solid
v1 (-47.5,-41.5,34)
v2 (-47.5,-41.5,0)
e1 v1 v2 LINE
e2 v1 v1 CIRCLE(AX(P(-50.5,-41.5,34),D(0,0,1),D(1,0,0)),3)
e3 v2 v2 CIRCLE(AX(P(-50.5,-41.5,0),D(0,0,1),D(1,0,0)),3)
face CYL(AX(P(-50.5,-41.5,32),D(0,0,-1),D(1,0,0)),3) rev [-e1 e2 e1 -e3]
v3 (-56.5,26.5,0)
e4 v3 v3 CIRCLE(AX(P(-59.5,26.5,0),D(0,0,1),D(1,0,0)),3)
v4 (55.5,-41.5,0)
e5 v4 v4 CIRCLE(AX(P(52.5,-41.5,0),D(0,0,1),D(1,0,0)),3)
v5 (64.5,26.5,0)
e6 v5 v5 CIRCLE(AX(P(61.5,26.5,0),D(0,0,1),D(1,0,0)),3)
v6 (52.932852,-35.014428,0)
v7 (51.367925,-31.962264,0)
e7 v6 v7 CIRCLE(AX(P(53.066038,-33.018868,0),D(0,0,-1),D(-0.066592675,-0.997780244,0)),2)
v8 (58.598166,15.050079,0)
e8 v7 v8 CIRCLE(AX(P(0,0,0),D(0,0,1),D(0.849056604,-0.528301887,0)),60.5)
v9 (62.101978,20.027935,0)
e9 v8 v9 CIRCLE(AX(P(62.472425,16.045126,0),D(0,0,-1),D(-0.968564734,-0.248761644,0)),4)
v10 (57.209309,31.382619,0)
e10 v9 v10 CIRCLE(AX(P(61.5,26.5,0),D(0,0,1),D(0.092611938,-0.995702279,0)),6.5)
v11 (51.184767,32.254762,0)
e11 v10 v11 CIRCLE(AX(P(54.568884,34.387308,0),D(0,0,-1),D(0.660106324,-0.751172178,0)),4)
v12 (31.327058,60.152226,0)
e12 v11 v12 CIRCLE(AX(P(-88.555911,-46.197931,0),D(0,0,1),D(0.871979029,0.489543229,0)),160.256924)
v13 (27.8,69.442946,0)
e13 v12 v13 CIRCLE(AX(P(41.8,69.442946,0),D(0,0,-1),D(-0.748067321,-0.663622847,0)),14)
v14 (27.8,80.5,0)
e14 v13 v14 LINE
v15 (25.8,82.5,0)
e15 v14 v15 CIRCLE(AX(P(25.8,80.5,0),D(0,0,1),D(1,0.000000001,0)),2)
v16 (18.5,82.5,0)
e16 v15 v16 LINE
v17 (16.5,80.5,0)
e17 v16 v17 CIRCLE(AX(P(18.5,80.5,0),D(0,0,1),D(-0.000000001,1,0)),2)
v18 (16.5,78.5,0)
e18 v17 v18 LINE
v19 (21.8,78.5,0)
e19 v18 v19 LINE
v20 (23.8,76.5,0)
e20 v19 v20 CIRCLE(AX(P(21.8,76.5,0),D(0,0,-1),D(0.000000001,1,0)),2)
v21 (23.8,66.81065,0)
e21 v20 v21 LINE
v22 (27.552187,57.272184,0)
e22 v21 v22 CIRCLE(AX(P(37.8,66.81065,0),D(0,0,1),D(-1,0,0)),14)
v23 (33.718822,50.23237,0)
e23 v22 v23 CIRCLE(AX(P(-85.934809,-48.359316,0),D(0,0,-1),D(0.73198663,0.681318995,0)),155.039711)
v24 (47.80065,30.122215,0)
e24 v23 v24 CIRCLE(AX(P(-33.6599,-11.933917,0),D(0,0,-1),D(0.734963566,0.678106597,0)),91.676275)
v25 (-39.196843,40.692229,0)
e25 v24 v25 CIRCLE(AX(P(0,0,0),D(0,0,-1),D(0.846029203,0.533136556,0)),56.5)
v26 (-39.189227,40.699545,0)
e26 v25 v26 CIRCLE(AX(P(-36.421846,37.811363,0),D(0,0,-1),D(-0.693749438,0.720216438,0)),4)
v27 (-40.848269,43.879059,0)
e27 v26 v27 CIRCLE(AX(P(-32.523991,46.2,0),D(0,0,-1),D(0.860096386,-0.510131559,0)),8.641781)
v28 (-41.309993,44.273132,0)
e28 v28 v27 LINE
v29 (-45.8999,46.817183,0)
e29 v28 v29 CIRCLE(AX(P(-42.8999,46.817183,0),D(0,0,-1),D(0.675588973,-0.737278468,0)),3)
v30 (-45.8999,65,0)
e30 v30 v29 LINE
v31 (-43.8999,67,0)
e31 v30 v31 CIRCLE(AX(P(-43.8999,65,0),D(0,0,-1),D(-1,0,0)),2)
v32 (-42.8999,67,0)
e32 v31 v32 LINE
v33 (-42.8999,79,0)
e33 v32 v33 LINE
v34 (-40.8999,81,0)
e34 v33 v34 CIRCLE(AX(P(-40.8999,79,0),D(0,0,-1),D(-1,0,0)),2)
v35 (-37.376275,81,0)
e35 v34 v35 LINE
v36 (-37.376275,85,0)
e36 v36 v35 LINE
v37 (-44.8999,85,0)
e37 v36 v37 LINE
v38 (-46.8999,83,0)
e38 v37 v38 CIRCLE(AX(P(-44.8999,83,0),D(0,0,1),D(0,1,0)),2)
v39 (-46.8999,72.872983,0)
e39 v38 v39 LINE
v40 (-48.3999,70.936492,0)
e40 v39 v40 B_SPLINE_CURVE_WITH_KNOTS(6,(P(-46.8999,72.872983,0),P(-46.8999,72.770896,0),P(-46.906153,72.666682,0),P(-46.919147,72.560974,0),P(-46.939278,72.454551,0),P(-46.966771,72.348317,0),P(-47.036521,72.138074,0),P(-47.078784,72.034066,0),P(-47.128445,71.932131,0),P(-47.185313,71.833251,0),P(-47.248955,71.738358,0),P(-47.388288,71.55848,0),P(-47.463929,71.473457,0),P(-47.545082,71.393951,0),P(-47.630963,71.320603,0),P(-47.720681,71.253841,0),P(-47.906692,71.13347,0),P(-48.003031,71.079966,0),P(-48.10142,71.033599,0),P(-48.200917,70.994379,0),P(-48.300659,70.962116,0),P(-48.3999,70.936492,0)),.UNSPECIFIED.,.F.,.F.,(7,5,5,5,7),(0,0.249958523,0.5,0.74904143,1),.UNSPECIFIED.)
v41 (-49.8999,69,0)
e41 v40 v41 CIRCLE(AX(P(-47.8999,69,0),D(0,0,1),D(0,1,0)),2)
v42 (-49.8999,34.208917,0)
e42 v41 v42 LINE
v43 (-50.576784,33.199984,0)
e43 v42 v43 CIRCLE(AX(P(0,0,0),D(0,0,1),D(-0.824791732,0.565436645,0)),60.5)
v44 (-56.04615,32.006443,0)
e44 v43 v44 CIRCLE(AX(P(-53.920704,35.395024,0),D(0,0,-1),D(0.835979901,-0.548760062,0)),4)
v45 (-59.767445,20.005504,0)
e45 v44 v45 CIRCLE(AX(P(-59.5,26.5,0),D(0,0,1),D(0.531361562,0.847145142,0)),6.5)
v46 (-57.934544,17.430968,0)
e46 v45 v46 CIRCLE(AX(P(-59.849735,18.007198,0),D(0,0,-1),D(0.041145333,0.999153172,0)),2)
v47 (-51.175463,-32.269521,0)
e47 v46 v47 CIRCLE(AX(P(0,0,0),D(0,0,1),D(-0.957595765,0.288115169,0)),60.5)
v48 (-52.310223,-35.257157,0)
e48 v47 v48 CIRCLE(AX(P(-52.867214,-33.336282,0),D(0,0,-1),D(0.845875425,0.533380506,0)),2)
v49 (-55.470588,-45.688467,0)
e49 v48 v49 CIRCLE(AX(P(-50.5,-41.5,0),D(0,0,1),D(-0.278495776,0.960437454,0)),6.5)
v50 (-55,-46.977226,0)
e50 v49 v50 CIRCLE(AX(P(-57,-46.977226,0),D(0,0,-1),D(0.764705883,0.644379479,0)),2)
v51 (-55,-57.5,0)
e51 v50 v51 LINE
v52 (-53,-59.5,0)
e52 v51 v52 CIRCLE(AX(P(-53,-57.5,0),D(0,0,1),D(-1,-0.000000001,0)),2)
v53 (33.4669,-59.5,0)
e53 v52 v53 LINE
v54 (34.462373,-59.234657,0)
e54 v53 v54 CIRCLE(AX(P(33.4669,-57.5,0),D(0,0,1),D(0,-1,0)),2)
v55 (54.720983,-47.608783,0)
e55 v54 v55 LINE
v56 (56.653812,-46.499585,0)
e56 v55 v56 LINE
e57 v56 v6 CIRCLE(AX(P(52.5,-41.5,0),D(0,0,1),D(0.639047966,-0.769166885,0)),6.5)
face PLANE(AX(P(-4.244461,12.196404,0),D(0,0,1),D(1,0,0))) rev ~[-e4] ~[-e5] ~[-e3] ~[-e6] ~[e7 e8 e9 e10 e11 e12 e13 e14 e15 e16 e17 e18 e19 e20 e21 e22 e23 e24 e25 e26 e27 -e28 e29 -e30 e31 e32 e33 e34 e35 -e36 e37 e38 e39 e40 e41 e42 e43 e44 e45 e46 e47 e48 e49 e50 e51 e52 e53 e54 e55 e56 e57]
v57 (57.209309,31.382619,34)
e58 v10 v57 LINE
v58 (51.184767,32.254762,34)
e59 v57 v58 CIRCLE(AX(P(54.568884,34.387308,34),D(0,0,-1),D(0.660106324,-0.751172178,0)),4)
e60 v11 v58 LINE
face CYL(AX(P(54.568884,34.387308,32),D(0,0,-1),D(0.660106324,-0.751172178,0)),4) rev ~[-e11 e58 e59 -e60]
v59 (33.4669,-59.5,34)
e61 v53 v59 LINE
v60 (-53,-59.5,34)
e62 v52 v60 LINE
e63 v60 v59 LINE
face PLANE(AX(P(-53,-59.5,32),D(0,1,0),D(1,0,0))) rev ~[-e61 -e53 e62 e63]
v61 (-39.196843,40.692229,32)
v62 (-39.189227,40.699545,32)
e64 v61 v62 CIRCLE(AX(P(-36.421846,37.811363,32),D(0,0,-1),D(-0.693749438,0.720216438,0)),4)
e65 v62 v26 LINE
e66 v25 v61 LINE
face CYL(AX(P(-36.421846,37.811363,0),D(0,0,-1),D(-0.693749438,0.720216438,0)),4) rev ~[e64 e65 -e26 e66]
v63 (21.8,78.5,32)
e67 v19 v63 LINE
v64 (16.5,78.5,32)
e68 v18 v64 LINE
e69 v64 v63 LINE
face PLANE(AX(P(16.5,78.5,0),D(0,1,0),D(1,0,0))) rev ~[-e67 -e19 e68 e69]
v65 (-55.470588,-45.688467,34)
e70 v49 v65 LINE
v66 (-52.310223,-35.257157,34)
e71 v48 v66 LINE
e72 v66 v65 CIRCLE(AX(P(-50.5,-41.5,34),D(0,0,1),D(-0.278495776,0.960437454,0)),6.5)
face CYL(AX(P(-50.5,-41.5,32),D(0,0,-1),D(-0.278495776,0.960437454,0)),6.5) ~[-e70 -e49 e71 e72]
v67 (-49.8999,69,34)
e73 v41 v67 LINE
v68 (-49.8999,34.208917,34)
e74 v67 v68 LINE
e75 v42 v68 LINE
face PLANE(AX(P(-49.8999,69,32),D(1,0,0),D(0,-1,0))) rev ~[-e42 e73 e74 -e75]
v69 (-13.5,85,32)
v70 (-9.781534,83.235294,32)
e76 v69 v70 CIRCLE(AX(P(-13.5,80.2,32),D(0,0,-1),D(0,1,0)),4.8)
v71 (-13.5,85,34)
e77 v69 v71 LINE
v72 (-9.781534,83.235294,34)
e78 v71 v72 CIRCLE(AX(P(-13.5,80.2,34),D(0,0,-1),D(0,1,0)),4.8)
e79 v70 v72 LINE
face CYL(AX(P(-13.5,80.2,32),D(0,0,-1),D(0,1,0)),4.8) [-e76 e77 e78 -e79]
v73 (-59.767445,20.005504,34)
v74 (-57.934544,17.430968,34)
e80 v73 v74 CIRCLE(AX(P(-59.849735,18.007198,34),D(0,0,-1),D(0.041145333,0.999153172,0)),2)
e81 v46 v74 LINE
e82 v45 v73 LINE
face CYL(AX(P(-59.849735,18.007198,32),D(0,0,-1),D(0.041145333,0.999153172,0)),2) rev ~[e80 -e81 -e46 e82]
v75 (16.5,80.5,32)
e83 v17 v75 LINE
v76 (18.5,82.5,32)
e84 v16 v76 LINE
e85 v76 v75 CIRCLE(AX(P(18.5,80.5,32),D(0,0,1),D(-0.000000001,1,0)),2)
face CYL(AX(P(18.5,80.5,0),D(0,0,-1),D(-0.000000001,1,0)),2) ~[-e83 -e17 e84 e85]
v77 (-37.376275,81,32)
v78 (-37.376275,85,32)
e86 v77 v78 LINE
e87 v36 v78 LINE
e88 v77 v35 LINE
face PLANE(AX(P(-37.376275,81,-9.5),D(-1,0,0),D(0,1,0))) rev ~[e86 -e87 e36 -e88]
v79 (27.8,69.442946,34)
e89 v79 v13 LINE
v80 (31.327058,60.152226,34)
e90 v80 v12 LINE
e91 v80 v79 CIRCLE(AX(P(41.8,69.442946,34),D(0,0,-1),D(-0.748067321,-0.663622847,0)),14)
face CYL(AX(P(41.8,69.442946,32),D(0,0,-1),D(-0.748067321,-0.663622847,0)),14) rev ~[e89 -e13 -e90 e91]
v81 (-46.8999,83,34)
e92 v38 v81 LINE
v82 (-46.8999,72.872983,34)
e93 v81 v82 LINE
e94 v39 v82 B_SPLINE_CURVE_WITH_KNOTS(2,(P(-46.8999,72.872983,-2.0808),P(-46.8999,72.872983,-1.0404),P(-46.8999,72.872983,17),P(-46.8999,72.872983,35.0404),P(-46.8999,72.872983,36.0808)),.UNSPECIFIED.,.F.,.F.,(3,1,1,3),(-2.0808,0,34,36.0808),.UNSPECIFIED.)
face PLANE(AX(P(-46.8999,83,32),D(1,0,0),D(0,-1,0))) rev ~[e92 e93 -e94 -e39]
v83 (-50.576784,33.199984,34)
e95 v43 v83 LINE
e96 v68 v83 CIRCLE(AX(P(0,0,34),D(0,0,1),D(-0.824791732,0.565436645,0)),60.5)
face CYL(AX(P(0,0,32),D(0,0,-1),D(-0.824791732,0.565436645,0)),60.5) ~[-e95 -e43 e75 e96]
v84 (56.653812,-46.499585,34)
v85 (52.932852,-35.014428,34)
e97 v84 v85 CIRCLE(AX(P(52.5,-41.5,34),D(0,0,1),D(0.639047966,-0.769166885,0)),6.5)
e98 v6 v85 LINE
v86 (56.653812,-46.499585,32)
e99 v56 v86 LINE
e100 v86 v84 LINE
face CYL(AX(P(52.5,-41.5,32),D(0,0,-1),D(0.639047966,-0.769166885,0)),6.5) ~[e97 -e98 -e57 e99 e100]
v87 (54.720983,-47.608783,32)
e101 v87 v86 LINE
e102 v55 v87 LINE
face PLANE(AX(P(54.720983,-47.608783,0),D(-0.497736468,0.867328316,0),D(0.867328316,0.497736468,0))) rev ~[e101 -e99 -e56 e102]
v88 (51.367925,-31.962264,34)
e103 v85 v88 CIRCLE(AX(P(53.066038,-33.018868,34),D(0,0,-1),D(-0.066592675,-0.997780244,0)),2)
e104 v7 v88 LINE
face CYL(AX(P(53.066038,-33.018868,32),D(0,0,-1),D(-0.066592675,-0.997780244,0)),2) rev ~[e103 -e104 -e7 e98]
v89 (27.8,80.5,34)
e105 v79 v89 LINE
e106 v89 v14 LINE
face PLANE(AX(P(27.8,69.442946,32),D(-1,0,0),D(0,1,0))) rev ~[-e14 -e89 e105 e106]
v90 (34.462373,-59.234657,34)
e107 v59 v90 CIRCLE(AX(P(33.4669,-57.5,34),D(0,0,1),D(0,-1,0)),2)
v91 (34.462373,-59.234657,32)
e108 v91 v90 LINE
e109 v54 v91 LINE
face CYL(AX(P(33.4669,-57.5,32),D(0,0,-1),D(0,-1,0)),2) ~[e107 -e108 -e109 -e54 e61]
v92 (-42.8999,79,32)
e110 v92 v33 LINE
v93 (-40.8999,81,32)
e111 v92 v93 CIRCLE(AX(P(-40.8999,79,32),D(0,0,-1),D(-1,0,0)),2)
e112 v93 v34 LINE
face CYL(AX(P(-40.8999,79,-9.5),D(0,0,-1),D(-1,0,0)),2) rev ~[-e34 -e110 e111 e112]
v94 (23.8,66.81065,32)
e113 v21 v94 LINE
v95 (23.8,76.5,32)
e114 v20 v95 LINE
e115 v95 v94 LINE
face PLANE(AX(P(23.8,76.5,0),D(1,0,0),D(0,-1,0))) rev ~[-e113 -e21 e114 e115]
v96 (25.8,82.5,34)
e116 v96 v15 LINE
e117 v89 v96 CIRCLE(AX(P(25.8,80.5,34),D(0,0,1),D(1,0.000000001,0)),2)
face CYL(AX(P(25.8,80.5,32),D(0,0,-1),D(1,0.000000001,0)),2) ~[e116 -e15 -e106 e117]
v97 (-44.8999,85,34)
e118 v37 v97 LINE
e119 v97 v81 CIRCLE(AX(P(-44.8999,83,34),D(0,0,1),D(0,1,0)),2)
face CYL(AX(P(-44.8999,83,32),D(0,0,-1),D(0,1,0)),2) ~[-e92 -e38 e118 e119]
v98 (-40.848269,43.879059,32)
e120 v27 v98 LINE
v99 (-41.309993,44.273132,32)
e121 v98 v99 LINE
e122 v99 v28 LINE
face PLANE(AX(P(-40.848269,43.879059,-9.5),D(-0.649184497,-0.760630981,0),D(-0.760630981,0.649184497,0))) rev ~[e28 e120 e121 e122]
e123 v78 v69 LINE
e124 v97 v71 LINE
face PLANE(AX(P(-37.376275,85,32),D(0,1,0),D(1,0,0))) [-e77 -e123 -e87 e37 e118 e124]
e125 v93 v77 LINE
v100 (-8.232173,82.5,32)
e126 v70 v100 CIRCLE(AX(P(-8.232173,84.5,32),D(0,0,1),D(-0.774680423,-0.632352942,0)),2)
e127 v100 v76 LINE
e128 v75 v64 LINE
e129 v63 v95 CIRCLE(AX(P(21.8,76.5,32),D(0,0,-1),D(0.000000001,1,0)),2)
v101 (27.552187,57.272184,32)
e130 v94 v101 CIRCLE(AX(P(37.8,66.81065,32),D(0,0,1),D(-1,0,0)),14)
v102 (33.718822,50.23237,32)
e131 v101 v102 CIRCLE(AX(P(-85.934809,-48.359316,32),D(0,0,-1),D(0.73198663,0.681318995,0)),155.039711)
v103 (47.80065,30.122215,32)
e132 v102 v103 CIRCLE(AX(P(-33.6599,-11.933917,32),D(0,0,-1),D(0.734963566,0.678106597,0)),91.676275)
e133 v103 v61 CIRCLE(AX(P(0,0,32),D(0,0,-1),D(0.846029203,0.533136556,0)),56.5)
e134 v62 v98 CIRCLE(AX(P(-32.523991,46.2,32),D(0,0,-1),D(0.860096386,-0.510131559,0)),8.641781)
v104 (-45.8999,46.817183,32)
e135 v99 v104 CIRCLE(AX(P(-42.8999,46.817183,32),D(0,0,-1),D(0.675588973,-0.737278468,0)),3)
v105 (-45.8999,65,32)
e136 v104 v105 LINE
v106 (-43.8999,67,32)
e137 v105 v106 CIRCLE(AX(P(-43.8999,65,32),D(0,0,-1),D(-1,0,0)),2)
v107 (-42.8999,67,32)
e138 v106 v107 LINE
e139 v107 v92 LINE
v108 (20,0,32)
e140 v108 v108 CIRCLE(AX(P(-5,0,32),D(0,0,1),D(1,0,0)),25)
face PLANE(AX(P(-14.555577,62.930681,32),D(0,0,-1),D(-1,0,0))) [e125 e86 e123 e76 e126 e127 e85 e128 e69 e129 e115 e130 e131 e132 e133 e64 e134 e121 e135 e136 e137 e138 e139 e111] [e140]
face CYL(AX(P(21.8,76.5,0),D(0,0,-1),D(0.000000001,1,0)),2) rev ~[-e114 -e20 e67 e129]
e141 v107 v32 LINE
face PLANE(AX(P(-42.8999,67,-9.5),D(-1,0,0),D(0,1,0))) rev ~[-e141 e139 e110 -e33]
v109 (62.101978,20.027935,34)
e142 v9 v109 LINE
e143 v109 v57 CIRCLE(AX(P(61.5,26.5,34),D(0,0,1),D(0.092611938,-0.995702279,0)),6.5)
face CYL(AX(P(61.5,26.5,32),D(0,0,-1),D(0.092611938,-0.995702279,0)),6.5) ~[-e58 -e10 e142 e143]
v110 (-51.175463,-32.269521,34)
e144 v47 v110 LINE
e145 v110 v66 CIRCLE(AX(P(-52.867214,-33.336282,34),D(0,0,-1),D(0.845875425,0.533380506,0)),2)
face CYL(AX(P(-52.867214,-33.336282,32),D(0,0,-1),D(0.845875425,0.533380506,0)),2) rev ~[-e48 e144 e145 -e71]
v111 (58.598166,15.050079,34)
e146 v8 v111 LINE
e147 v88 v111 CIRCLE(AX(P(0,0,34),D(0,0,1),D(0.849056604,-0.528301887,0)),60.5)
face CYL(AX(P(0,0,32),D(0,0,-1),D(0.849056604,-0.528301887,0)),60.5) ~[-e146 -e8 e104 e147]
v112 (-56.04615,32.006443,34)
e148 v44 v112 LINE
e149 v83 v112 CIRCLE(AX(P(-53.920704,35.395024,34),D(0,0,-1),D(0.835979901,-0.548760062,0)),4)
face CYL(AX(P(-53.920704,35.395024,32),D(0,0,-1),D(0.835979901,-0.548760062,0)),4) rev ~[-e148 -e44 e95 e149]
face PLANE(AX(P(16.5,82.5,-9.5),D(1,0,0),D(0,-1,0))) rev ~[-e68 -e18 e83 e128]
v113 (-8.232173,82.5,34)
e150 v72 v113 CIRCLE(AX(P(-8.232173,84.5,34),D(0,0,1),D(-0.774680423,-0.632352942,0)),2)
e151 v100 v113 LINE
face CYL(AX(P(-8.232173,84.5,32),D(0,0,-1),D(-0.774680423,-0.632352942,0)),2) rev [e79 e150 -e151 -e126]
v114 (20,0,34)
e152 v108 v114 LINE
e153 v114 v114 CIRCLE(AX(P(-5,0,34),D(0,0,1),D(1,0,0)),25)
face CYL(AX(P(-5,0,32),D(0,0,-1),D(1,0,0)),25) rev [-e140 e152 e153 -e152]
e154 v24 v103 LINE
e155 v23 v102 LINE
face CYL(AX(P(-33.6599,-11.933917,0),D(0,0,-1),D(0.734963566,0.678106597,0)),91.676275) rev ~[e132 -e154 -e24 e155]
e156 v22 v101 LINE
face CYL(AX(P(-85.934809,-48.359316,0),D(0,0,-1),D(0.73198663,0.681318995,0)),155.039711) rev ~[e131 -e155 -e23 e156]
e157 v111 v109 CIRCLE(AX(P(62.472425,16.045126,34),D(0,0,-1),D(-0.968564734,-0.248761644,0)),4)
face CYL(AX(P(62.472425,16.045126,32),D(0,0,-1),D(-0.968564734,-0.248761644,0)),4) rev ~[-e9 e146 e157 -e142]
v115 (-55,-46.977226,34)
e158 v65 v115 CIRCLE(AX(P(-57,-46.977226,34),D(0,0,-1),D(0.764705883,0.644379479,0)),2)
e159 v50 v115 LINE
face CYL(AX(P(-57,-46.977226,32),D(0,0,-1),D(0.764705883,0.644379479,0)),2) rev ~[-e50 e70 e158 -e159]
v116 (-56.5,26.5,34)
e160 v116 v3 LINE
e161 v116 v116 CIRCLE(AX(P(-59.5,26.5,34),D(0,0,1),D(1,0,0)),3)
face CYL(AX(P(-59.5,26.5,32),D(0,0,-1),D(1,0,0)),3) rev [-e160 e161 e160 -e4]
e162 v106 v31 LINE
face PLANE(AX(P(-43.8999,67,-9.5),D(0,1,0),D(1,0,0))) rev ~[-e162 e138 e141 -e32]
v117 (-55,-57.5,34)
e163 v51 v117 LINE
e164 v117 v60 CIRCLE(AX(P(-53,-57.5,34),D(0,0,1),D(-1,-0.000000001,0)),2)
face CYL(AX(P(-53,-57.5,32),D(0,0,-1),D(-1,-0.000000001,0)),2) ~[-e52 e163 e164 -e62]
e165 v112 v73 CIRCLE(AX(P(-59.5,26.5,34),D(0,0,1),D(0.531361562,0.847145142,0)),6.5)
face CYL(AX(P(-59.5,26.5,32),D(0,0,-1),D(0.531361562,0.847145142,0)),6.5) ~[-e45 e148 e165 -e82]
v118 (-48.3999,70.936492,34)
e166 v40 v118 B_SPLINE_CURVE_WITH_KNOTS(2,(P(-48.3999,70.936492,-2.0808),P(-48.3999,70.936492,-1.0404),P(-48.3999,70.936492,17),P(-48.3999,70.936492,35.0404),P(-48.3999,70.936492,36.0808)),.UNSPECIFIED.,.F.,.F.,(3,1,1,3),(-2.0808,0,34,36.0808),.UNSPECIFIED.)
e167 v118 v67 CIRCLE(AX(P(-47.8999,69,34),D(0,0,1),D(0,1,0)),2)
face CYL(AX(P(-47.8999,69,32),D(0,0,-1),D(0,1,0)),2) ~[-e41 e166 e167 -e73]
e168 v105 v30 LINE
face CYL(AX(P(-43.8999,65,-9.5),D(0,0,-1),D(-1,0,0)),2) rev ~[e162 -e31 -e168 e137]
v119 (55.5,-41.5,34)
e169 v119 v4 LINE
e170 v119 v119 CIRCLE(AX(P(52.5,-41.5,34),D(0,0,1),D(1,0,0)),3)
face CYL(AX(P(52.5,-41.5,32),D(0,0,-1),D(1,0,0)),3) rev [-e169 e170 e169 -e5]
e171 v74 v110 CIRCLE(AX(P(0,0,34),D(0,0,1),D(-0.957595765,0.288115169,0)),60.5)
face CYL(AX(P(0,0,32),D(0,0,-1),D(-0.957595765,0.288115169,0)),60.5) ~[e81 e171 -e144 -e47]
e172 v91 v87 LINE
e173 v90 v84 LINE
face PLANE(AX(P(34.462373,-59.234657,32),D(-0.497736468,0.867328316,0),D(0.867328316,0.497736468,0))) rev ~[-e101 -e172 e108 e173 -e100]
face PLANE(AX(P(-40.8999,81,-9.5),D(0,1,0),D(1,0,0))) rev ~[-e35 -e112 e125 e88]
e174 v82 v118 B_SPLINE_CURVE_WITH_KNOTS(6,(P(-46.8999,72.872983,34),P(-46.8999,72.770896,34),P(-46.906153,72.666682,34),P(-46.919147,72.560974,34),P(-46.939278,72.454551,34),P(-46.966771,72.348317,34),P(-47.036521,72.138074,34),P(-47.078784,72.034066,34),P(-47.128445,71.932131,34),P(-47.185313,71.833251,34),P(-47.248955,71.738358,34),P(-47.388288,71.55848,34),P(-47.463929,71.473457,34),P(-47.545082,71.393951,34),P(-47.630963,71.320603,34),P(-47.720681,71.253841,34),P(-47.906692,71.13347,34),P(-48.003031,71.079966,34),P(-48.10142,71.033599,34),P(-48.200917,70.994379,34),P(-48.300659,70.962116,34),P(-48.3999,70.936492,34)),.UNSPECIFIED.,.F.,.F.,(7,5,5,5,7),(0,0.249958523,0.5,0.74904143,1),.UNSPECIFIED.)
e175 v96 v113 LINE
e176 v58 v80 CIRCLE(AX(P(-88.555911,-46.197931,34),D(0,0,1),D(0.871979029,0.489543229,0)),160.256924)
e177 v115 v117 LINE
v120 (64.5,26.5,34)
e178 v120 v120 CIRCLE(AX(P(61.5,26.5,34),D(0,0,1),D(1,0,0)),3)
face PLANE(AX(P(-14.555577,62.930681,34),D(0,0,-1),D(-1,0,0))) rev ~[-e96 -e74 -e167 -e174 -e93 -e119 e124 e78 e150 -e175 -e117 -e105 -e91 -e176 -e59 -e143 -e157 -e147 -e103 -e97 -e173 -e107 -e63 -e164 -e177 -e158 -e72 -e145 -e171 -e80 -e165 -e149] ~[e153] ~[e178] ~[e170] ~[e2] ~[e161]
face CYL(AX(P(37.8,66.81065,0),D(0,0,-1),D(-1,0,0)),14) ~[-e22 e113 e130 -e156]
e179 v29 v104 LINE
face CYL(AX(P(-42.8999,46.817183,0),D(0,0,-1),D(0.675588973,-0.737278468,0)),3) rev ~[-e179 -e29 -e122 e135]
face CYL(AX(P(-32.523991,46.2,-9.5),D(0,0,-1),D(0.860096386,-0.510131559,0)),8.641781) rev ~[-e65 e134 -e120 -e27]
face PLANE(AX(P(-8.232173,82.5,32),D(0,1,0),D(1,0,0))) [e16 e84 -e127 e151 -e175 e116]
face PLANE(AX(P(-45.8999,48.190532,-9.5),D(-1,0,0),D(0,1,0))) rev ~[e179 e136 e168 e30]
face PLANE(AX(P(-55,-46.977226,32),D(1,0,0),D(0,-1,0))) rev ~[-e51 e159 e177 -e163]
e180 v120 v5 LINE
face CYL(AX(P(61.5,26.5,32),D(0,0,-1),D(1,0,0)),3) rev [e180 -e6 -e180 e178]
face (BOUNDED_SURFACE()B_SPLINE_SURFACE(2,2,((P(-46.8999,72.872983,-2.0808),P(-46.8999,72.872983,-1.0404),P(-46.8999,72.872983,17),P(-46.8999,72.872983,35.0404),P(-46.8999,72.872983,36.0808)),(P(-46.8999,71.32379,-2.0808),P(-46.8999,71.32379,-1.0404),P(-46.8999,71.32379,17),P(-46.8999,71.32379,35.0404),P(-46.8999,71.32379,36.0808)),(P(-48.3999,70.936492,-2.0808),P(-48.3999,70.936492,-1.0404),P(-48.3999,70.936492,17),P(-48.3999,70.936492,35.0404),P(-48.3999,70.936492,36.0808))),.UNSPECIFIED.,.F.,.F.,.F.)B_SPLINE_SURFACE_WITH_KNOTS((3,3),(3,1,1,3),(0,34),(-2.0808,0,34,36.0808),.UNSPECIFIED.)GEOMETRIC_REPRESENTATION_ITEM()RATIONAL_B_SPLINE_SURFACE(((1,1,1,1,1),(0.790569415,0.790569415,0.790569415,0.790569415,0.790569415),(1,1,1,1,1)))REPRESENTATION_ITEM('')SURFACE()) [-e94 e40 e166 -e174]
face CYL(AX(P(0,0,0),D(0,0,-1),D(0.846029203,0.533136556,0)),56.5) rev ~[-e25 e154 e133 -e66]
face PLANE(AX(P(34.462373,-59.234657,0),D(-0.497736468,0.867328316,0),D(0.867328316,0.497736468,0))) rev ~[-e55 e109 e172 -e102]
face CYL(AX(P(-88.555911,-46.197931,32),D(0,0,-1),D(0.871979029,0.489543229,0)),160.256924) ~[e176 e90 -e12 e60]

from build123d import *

# Parameters (mm, degrees)
SKETCH1_R           = 3
BOSS_EXTRUDE1_DEPTH = 32
SKETCH2_R           = 25
SKETCH2_R_2         = 3
BOSS_EXTRUDE2_DEPTH = 2
CUT_EXTRUDE3_START  = -43.5
CUT_EXTRUDE3_DEPTH  = 43.5
BOSS_EXTRUDE3_START = -2
BOSS_EXTRUDE3_DEPTH = 2
FILLET3_R           = 2


with BuildPart() as part:
    # Sketch1 → Boss-Extrude1 (new body)
    with BuildSketch(Plane.XY):
        with BuildLine():
            Line((-53, -59.5), (-5, -59.5))
            Line((-5, -59.5), (33.466899887, -59.5))
            ThreePointArc((33.466899887, -59.5), (33.982014794, -59.432525972), (34.462372823, -59.234656633))
            Line((34.462372823, -59.234656633), (54.72098291, -47.608783423))
            Line((54.72098291, -47.608783423), (56.653811778, -46.499584754))
            ThreePointArc((56.653811778, -46.499584754), (58.683573084, -39.496646832), (52.932852386, -35.014428413))
            ThreePointArc((52.932852386, -35.014428413), (51.286335437, -33.93136983), (51.367924528, -31.962264151))
            ThreePointArc((51.367924528, -31.962264151), (59.796951453, -9.196444799), (58.598166416, 15.05007949))
            ThreePointArc((58.598166416, 15.05007949), (59.201470515, 18.347484522), (62.101977599, 20.027935185))
            ThreePointArc((62.101977599, 20.027935185), (67.46941068, 29.07218509), (57.209308895, 31.382619158))
            ThreePointArc((57.209308895, 31.382619158), (53.995797744, 30.428574159), (51.184766788, 32.254761647))
            ThreePointArc((51.184766788, 32.254761647), (42.003181209, 46.735407793), (31.327057509, 60.152225945))
            ThreePointArc((31.327057509, 60.152225945), (28.711432567, 64.474102627), (27.8, 69.442945809))
            Line((27.8, 69.442945809), (27.8, 80.5))
            ThreePointArc((27.8, 80.5), (27.214213562, 81.914213562), (25.8, 82.5))
            Line((25.8, 82.5), (18.5, 82.5))
            ThreePointArc((18.5, 82.5), (17.085786438, 81.914213562), (16.5, 80.5))
            Line((16.5, 80.5), (16.5, 78.5))
            Line((16.5, 78.5), (21.8, 78.5))
            ThreePointArc((21.8, 78.5), (23.214213562, 77.914213562), (23.8, 76.5))
            Line((23.8, 76.5), (23.8, 66.810649809))
            ThreePointArc((23.8, 66.810649809), (24.771773344, 61.685680521), (27.552187173, 57.272183881))
            ThreePointArc((27.552187173, 57.272183881), (30.688635385, 53.798817753), (33.71882223, 50.232370314))
            ThreePointArc((33.71882223, 50.232370314), (41.435950887, 40.650801907), (47.800649975, 30.122215422))
            ThreePointArc((47.800649975, 30.122215422), (-6.814518891, -56.087541685), (-39.196843269, 40.692228715))
            ThreePointArc((-39.196843269, 40.692228715), (-37.08221818, 41.75647487), (-34.736286869, 41.438881683))
            ThreePointArc((-34.736286869, 41.438881683), (-27.633151067, 48.108450504), (-37.376275293, 48.204454676))
            ThreePointArc((-37.376275293, 48.204454676), (-37.855586541, 47.355396867), (-38.526075168, 46.647524395))
            ThreePointArc((-38.526075168, 46.647524395), (-39.712733241, 45.641525156), (-40.87313288, 44.605347309))
            ThreePointArc((-40.87313288, 44.605347309), (-44.108142168, 44.071249287), (-45.899899799, 46.817182713))
            Line((-45.899899799, 46.817182713), (-45.899899799, 65))
            ThreePointArc((-45.899899799, 65), (-45.314113362, 66.414213562), (-43.899899799, 67))
            Line((-43.899899799, 67), (-42.899899799, 67))
            Line((-42.899899799, 67), (-42.899899799, 79))
            ThreePointArc((-42.899899799, 79), (-42.314113362, 80.414213562), (-40.899899799, 81))
            Line((-40.899899799, 81), (-20.193280212, 81))
            ThreePointArc((-20.193280212, 81), (-18.909902316, 80.533929978), (-18.224668385, 79.352941176))
            ThreePointArc((-18.224668385, 79.352941176), (-14.448760929, 75.49469951), (-9.472757132, 77.588235294))
            ThreePointArc((-9.472757132, 77.588235294), (-8.74960298, 78.257337558), (-7.79473927, 78.5))
            Line((-7.79473927, 78.5), (-5, 78.5))
            Line((-5, 78.5), (-3.5, 78.5))
            Line((-3.5, 78.5), (-3.5, 82.5))
            Line((-3.5, 82.5), (-5, 82.5))
            Line((-5, 82.5), (-8.232173124, 82.5))
            ThreePointArc((-8.232173124, 82.5), (-9.089666049, 82.693150288), (-9.78153397, 83.235294118))
            ThreePointArc((-9.78153397, 83.235294118), (-11.442016978, 84.536439309), (-13.5, 85))
            Line((-13.5, 85), (-44.899899799, 85))
            ThreePointArc((-44.899899799, 85), (-46.314113362, 84.414213562), (-46.899899799, 83))
            Line((-46.899899799, 83), (-46.899899799, 71))
            Line((-46.899899799, 71), (-47.899899799, 71))
            ThreePointArc((-47.899899799, 71), (-49.314113362, 70.414213562), (-49.899899799, 69))
            Line((-49.899899799, 69), (-49.899899799, 34.208916966))
            ThreePointArc((-49.899899799, 34.208916966), (-50.240874628, 33.706149537), (-50.576784, 33.199983739))
            ThreePointArc((-50.576784, 33.199983739), (-53.06788243, 31.486994298), (-56.046149849, 32.00644342))
            ThreePointArc((-56.046149849, 32.00644342), (-65.708375749, 28.425115726), (-59.767444663, 20.00550438))
            ThreePointArc((-59.767444663, 20.00550438), (-58.220458323, 19.167136154), (-57.934543798, 17.430967699))
            ThreePointArc((-57.934543798, 17.430967699), (-59.948169649, -8.152726891), (-51.175463245, -32.26952063))
            ThreePointArc((-51.175463245, -32.26952063), (-50.997534258, -34.046420575), (-52.310222544, -35.25715655))
            ThreePointArc((-52.310222544, -35.25715655), (-56.720764111, -39.615300058), (-55.470588235, -45.688466616))
            ThreePointArc((-55.470588235, -45.688466616), (-55.121327127, -46.291231234), (-55, -46.977225575))
            Line((-55, -46.977225575), (-55, -57.5))
            ThreePointArc((-55, -57.5), (-54.414213562, -58.914213562), (-53, -59.5))
        make_face()
        with Locations((-50.5, -41.5)):
            Circle(SKETCH1_R, mode=Mode.SUBTRACT)
        with Locations((52.5, -41.5)):
            Circle(SKETCH1_R, mode=Mode.SUBTRACT)
        with Locations((-59.5, 26.5)):
            Circle(SKETCH1_R, mode=Mode.SUBTRACT)
        with Locations((-32.523991145, 46.2)):
            Circle(SKETCH1_R, mode=Mode.SUBTRACT)
        with Locations((-13.5, 80.2)):
            Circle(SKETCH1_R, mode=Mode.SUBTRACT)
        with Locations((61.5, 26.5)):
            Circle(SKETCH1_R, mode=Mode.SUBTRACT)
    extrude(amount=BOSS_EXTRUDE1_DEPTH)

    # Sketch2 → Boss-Extrude2 (add)
    # profile 1 of 2: a face of its own
    with BuildSketch(Plane.XY.offset(32)):
        with BuildLine():
            Line((18.5, 82.5), (-3.5, 82.5))
            Line((-3.5, 82.5), (-3.5, 78.5))
            Line((-3.5, 78.5), (-7.79473927, 78.5))
            ThreePointArc((-7.79473927, 78.5), (-8.74960298, 78.257337558), (-9.472757132, 77.588235294))
            ThreePointArc((-9.472757132, 77.588235294), (-14.448760929, 75.49469951), (-18.224668385, 79.352941176))
            ThreePointArc((-18.224668385, 79.352941176), (-18.909902316, 80.533929978), (-20.193280212, 81))
            Line((-20.193280212, 81), (-40.899899799, 81))
            ThreePointArc((-40.899899799, 81), (-42.314113362, 80.414213562), (-42.899899799, 79))
            Line((-42.899899799, 79), (-42.899899799, 67))
            Line((-42.899899799, 67), (-43.899899799, 67))
            ThreePointArc((-43.899899799, 67), (-45.314113362, 66.414213562), (-45.899899799, 65))
            Line((-45.899899799, 65), (-45.899899799, 46.817182713))
            ThreePointArc((-45.899899799, 46.817182713), (-44.108142168, 44.071249287), (-40.87313288, 44.605347309))
            ThreePointArc((-40.87313288, 44.605347309), (-39.712733241, 45.641525156), (-38.526075168, 46.647524395))
            ThreePointArc((-38.526075168, 46.647524395), (-37.855586541, 47.355396867), (-37.376275293, 48.204454676))
            ThreePointArc((-37.376275293, 48.204454676), (-27.633151067, 48.108450504), (-34.736286869, 41.438881683))
            ThreePointArc((-34.736286869, 41.438881683), (-37.08221818, 41.75647487), (-39.196843269, 40.692228715))
            ThreePointArc((-39.196843269, 40.692228715), (-6.814518891, -56.087541685), (47.800649975, 30.122215422))
            ThreePointArc((47.800649975, 30.122215422), (41.435950887, 40.650801907), (33.71882223, 50.232370314))
            ThreePointArc((33.71882223, 50.232370314), (30.688635385, 53.798817753), (27.552187173, 57.272183881))
            ThreePointArc((27.552187173, 57.272183881), (24.771773344, 61.685680521), (23.8, 66.810649809))
            Line((23.8, 66.810649809), (23.8, 76.5))
            ThreePointArc((23.8, 76.5), (23.214213562, 77.914213562), (21.8, 78.5))
            Line((21.8, 78.5), (16.5, 78.5))
            Line((16.5, 78.5), (16.5, 80.5))
            ThreePointArc((16.5, 80.5), (17.085786438, 81.914213562), (18.5, 82.5))
        make_face()
        with Locations((-5, 0)):
            Circle(SKETCH2_R, mode=Mode.SUBTRACT)
    # profile 2 of 2: a face of its own
    with BuildSketch(Plane.XY.offset(32)):
        with BuildLine():
            Line((-3.5, 78.5), (-3.5, 82.5))
            Line((-3.5, 82.5), (-8.232173124, 82.5))
            ThreePointArc((-8.232173124, 82.5), (-9.089666049, 82.693150288), (-9.78153397, 83.235294118))
            ThreePointArc((-9.78153397, 83.235294118), (-11.442016978, 84.536439309), (-13.5, 85))
            Line((-13.5, 85), (-44.899899799, 85))
            ThreePointArc((-44.899899799, 85), (-46.314113362, 84.414213562), (-46.899899799, 83))
            Line((-46.899899799, 83), (-46.899899799, 71))
            Line((-46.899899799, 71), (-47.899899799, 71))
            ThreePointArc((-47.899899799, 71), (-49.314113362, 70.414213562), (-49.899899799, 69))
            Line((-49.899899799, 69), (-49.899899799, 34.208916966))
            ThreePointArc((-49.899899799, 34.208916966), (-50.240874628, 33.706149537), (-50.576784, 33.199983739))
            ThreePointArc((-50.576784, 33.199983739), (-53.06788243, 31.486994298), (-56.046149849, 32.00644342))
            ThreePointArc((-56.046149849, 32.00644342), (-65.708375749, 28.425115726), (-59.767444663, 20.00550438))
            ThreePointArc((-59.767444663, 20.00550438), (-58.220458323, 19.167136154), (-57.934543798, 17.430967699))
            ThreePointArc((-57.934543798, 17.430967699), (-59.948169649, -8.152726891), (-51.175463245, -32.26952063))
            ThreePointArc((-51.175463245, -32.26952063), (-50.997534258, -34.046420575), (-52.310222544, -35.25715655))
            ThreePointArc((-52.310222544, -35.25715655), (-56.720764111, -39.615300058), (-55.470588235, -45.688466616))
            ThreePointArc((-55.470588235, -45.688466616), (-55.121327127, -46.291231234), (-55, -46.977225575))
            Line((-55, -46.977225575), (-55, -57.5))
            ThreePointArc((-55, -57.5), (-54.414213562, -58.914213562), (-53, -59.5))
            Line((-53, -59.5), (33.466899887, -59.5))
            ThreePointArc((33.466899887, -59.5), (33.982014794, -59.432525972), (34.462372823, -59.234656633))
            Line((34.462372823, -59.234656633), (56.653811778, -46.499584754))
            ThreePointArc((56.653811778, -46.499584754), (58.683573084, -39.496646832), (52.932852386, -35.014428413))
            ThreePointArc((52.932852386, -35.014428413), (51.286335437, -33.93136983), (51.367924528, -31.962264151))
            ThreePointArc((51.367924528, -31.962264151), (59.796951453, -9.196444799), (58.598166416, 15.05007949))
            ThreePointArc((58.598166416, 15.05007949), (59.201470515, 18.347484522), (62.101977599, 20.027935185))
            ThreePointArc((62.101977599, 20.027935185), (67.46941068, 29.07218509), (57.209308895, 31.382619158))
            ThreePointArc((57.209308895, 31.382619158), (53.995797744, 30.428574159), (51.184766788, 32.254761647))
            ThreePointArc((51.184766788, 32.254761647), (42.003181209, 46.735407793), (31.327057509, 60.152225945))
            ThreePointArc((31.327057509, 60.152225945), (28.711432567, 64.474102627), (27.8, 69.442945809))
            Line((27.8, 69.442945809), (27.8, 80.5))
            ThreePointArc((27.8, 80.5), (27.214213562, 81.914213562), (25.8, 82.5))
            Line((25.8, 82.5), (18.5, 82.5))
            ThreePointArc((18.5, 82.5), (17.085786438, 81.914213562), (16.5, 80.5))
            Line((16.5, 80.5), (16.5, 78.5))
            Line((16.5, 78.5), (21.8, 78.5))
            ThreePointArc((21.8, 78.5), (23.214213562, 77.914213562), (23.8, 76.5))
            Line((23.8, 76.5), (23.8, 66.810649809))
            ThreePointArc((23.8, 66.810649809), (24.771773344, 61.685680521), (27.552187173, 57.272183881))
            ThreePointArc((27.552187173, 57.272183881), (30.688635385, 53.798817753), (33.71882223, 50.232370314))
            ThreePointArc((33.71882223, 50.232370314), (41.435950887, 40.650801907), (47.800649975, 30.122215422))
            ThreePointArc((47.800649975, 30.122215422), (-6.814518891, -56.087541685), (-39.196843269, 40.692228715))
            ThreePointArc((-39.196843269, 40.692228715), (-37.08221818, 41.75647487), (-34.736286869, 41.438881683))
            ThreePointArc((-34.736286869, 41.438881683), (-27.633151067, 48.108450504), (-37.376275293, 48.204454676))
            ThreePointArc((-37.376275293, 48.204454676), (-37.855586541, 47.355396867), (-38.526075168, 46.647524395))
            ThreePointArc((-38.526075168, 46.647524395), (-39.712733241, 45.641525156), (-40.87313288, 44.605347309))
            ThreePointArc((-40.87313288, 44.605347309), (-44.108142168, 44.071249287), (-45.899899799, 46.817182713))
            Line((-45.899899799, 46.817182713), (-45.899899799, 65))
            ThreePointArc((-45.899899799, 65), (-45.314113362, 66.414213562), (-43.899899799, 67))
            Line((-43.899899799, 67), (-42.899899799, 67))
            Line((-42.899899799, 67), (-42.899899799, 79))
            ThreePointArc((-42.899899799, 79), (-42.314113362, 80.414213562), (-40.899899799, 81))
            Line((-40.899899799, 81), (-20.193280212, 81))
            ThreePointArc((-20.193280212, 81), (-18.909902316, 80.533929978), (-18.224668385, 79.352941176))
            ThreePointArc((-18.224668385, 79.352941176), (-14.448760929, 75.49469951), (-9.472757132, 77.588235294))
            ThreePointArc((-9.472757132, 77.588235294), (-8.74960298, 78.257337558), (-7.79473927, 78.5))
            Line((-7.79473927, 78.5), (-3.5, 78.5))
        make_face()
        with Locations((-50.5, -41.5)):
            Circle(SKETCH2_R_2, mode=Mode.SUBTRACT)
        with Locations((52.5, -41.5)):
            Circle(SKETCH2_R_2, mode=Mode.SUBTRACT)
        with Locations((-59.5, 26.5)):
            Circle(SKETCH2_R_2, mode=Mode.SUBTRACT)
        with Locations((-32.523991145, 46.2)):
            Circle(SKETCH2_R_2, mode=Mode.SUBTRACT)
        with Locations((-13.5, 80.2)):
            Circle(SKETCH2_R_2, mode=Mode.SUBTRACT)
        with Locations((61.5, 26.5)):
            Circle(SKETCH2_R_2, mode=Mode.SUBTRACT)
    extrude(amount=BOSS_EXTRUDE2_DEPTH)

    # Sketch3 → Cut-Extrude3 (cut)
    with BuildSketch(Plane.XY.offset(34).offset(CUT_EXTRUDE3_START)):
        with BuildLine():
            Line((-3.5, 82.5), (16.5, 82.5))
            Line((16.5, 82.5), (16.5, 46.481693385))
            ThreePointArc((16.5, 46.481693385), (15.627802553, 44.36687512), (13.518362469, 43.481749583))
            Line((13.518362469, 43.481749583), (-22.529300144, 43.261104089))
            ThreePointArc((-22.529300144, 43.261104089), (-24.003633635, 42.86343982), (-25.091226832, 41.791554962))
            ThreePointArc((-25.091226832, 41.791554962), (-33.658943745, 37.633071987), (-40.848269224, 43.879058931))
            Line((-40.848269224, 43.879058931), (-45.899899799, 48.190532346))
            Line((-45.899899799, 48.190532346), (-45.899899799, 65))
            ThreePointArc((-45.899899799, 65), (-45.314113362, 66.414213562), (-43.899899799, 67))
            Line((-43.899899799, 67), (-42.899899799, 67))
            Line((-42.899899799, 67), (-42.899899799, 79))
            ThreePointArc((-42.899899799, 79), (-42.314113362, 80.414213562), (-40.899899799, 81))
            Line((-40.899899799, 81), (-37.376275293, 81))
            Line((-37.376275293, 81), (-37.376275293, 85))
            Line((-37.376275293, 85), (-13.5, 85))
            ThreePointArc((-13.5, 85), (-11.442016978, 84.536439309), (-9.78153397, 83.235294118))
            ThreePointArc((-9.78153397, 83.235294118), (-9.089666049, 82.693150288), (-8.232173124, 82.5))
            Line((-8.232173124, 82.5), (-5, 82.5))
            Line((-5, 82.5), (-3.5, 82.5))
        make_face()
    extrude(amount=CUT_EXTRUDE3_DEPTH, mode=Mode.SUBTRACT)

    # Sketch5 → Boss-Extrude3 (add)
    with BuildSketch(Plane.XY.offset(34).offset(BOSS_EXTRUDE3_START)):
        with BuildLine():
            Line((-3.5, 82.5), (16.5, 82.5))
            Line((16.5, 82.5), (16.5, 46.481693385))
            ThreePointArc((16.5, 46.481693385), (15.627802553, 44.36687512), (13.518362469, 43.481749583))
            Line((13.518362469, 43.481749583), (-22.529300144, 43.261104089))
            ThreePointArc((-22.529300144, 43.261104089), (-24.003633635, 42.86343982), (-25.091226832, 41.791554962))
            ThreePointArc((-25.091226832, 41.791554962), (-33.658943745, 37.633071987), (-40.848269224, 43.879058931))
            Line((-40.848269224, 43.879058931), (-45.899899799, 48.190532346))
            Line((-45.899899799, 48.190532346), (-45.899899799, 65))
            ThreePointArc((-45.899899799, 65), (-45.314113362, 66.414213562), (-43.899899799, 67))
            Line((-43.899899799, 67), (-42.899899799, 67))
            Line((-42.899899799, 67), (-42.899899799, 79))
            ThreePointArc((-42.899899799, 79), (-42.314113362, 80.414213562), (-40.899899799, 81))
            Line((-40.899899799, 81), (-37.376275293, 81))
            Line((-37.376275293, 81), (-37.376275293, 85))
            Line((-37.376275293, 85), (-13.5, 85))
            ThreePointArc((-13.5, 85), (-11.442016978, 84.536439309), (-9.78153397, 83.235294118))
            ThreePointArc((-9.78153397, 83.235294118), (-9.089666049, 82.693150288), (-8.232173124, 82.5))
            Line((-8.232173124, 82.5), (-5, 82.5))
            Line((-5, 82.5), (-3.5, 82.5))
        make_face()
    extrude(amount=BOSS_EXTRUDE3_DEPTH)

    # Fillet3
    fillet3_edges = [part.edges().sort_by_distance(p)[0] for p in [
        (-46.899899799, 71, 17),
    ]]
    fillet(fillet3_edges, radius=FILLET3_R)


solid = part.part
